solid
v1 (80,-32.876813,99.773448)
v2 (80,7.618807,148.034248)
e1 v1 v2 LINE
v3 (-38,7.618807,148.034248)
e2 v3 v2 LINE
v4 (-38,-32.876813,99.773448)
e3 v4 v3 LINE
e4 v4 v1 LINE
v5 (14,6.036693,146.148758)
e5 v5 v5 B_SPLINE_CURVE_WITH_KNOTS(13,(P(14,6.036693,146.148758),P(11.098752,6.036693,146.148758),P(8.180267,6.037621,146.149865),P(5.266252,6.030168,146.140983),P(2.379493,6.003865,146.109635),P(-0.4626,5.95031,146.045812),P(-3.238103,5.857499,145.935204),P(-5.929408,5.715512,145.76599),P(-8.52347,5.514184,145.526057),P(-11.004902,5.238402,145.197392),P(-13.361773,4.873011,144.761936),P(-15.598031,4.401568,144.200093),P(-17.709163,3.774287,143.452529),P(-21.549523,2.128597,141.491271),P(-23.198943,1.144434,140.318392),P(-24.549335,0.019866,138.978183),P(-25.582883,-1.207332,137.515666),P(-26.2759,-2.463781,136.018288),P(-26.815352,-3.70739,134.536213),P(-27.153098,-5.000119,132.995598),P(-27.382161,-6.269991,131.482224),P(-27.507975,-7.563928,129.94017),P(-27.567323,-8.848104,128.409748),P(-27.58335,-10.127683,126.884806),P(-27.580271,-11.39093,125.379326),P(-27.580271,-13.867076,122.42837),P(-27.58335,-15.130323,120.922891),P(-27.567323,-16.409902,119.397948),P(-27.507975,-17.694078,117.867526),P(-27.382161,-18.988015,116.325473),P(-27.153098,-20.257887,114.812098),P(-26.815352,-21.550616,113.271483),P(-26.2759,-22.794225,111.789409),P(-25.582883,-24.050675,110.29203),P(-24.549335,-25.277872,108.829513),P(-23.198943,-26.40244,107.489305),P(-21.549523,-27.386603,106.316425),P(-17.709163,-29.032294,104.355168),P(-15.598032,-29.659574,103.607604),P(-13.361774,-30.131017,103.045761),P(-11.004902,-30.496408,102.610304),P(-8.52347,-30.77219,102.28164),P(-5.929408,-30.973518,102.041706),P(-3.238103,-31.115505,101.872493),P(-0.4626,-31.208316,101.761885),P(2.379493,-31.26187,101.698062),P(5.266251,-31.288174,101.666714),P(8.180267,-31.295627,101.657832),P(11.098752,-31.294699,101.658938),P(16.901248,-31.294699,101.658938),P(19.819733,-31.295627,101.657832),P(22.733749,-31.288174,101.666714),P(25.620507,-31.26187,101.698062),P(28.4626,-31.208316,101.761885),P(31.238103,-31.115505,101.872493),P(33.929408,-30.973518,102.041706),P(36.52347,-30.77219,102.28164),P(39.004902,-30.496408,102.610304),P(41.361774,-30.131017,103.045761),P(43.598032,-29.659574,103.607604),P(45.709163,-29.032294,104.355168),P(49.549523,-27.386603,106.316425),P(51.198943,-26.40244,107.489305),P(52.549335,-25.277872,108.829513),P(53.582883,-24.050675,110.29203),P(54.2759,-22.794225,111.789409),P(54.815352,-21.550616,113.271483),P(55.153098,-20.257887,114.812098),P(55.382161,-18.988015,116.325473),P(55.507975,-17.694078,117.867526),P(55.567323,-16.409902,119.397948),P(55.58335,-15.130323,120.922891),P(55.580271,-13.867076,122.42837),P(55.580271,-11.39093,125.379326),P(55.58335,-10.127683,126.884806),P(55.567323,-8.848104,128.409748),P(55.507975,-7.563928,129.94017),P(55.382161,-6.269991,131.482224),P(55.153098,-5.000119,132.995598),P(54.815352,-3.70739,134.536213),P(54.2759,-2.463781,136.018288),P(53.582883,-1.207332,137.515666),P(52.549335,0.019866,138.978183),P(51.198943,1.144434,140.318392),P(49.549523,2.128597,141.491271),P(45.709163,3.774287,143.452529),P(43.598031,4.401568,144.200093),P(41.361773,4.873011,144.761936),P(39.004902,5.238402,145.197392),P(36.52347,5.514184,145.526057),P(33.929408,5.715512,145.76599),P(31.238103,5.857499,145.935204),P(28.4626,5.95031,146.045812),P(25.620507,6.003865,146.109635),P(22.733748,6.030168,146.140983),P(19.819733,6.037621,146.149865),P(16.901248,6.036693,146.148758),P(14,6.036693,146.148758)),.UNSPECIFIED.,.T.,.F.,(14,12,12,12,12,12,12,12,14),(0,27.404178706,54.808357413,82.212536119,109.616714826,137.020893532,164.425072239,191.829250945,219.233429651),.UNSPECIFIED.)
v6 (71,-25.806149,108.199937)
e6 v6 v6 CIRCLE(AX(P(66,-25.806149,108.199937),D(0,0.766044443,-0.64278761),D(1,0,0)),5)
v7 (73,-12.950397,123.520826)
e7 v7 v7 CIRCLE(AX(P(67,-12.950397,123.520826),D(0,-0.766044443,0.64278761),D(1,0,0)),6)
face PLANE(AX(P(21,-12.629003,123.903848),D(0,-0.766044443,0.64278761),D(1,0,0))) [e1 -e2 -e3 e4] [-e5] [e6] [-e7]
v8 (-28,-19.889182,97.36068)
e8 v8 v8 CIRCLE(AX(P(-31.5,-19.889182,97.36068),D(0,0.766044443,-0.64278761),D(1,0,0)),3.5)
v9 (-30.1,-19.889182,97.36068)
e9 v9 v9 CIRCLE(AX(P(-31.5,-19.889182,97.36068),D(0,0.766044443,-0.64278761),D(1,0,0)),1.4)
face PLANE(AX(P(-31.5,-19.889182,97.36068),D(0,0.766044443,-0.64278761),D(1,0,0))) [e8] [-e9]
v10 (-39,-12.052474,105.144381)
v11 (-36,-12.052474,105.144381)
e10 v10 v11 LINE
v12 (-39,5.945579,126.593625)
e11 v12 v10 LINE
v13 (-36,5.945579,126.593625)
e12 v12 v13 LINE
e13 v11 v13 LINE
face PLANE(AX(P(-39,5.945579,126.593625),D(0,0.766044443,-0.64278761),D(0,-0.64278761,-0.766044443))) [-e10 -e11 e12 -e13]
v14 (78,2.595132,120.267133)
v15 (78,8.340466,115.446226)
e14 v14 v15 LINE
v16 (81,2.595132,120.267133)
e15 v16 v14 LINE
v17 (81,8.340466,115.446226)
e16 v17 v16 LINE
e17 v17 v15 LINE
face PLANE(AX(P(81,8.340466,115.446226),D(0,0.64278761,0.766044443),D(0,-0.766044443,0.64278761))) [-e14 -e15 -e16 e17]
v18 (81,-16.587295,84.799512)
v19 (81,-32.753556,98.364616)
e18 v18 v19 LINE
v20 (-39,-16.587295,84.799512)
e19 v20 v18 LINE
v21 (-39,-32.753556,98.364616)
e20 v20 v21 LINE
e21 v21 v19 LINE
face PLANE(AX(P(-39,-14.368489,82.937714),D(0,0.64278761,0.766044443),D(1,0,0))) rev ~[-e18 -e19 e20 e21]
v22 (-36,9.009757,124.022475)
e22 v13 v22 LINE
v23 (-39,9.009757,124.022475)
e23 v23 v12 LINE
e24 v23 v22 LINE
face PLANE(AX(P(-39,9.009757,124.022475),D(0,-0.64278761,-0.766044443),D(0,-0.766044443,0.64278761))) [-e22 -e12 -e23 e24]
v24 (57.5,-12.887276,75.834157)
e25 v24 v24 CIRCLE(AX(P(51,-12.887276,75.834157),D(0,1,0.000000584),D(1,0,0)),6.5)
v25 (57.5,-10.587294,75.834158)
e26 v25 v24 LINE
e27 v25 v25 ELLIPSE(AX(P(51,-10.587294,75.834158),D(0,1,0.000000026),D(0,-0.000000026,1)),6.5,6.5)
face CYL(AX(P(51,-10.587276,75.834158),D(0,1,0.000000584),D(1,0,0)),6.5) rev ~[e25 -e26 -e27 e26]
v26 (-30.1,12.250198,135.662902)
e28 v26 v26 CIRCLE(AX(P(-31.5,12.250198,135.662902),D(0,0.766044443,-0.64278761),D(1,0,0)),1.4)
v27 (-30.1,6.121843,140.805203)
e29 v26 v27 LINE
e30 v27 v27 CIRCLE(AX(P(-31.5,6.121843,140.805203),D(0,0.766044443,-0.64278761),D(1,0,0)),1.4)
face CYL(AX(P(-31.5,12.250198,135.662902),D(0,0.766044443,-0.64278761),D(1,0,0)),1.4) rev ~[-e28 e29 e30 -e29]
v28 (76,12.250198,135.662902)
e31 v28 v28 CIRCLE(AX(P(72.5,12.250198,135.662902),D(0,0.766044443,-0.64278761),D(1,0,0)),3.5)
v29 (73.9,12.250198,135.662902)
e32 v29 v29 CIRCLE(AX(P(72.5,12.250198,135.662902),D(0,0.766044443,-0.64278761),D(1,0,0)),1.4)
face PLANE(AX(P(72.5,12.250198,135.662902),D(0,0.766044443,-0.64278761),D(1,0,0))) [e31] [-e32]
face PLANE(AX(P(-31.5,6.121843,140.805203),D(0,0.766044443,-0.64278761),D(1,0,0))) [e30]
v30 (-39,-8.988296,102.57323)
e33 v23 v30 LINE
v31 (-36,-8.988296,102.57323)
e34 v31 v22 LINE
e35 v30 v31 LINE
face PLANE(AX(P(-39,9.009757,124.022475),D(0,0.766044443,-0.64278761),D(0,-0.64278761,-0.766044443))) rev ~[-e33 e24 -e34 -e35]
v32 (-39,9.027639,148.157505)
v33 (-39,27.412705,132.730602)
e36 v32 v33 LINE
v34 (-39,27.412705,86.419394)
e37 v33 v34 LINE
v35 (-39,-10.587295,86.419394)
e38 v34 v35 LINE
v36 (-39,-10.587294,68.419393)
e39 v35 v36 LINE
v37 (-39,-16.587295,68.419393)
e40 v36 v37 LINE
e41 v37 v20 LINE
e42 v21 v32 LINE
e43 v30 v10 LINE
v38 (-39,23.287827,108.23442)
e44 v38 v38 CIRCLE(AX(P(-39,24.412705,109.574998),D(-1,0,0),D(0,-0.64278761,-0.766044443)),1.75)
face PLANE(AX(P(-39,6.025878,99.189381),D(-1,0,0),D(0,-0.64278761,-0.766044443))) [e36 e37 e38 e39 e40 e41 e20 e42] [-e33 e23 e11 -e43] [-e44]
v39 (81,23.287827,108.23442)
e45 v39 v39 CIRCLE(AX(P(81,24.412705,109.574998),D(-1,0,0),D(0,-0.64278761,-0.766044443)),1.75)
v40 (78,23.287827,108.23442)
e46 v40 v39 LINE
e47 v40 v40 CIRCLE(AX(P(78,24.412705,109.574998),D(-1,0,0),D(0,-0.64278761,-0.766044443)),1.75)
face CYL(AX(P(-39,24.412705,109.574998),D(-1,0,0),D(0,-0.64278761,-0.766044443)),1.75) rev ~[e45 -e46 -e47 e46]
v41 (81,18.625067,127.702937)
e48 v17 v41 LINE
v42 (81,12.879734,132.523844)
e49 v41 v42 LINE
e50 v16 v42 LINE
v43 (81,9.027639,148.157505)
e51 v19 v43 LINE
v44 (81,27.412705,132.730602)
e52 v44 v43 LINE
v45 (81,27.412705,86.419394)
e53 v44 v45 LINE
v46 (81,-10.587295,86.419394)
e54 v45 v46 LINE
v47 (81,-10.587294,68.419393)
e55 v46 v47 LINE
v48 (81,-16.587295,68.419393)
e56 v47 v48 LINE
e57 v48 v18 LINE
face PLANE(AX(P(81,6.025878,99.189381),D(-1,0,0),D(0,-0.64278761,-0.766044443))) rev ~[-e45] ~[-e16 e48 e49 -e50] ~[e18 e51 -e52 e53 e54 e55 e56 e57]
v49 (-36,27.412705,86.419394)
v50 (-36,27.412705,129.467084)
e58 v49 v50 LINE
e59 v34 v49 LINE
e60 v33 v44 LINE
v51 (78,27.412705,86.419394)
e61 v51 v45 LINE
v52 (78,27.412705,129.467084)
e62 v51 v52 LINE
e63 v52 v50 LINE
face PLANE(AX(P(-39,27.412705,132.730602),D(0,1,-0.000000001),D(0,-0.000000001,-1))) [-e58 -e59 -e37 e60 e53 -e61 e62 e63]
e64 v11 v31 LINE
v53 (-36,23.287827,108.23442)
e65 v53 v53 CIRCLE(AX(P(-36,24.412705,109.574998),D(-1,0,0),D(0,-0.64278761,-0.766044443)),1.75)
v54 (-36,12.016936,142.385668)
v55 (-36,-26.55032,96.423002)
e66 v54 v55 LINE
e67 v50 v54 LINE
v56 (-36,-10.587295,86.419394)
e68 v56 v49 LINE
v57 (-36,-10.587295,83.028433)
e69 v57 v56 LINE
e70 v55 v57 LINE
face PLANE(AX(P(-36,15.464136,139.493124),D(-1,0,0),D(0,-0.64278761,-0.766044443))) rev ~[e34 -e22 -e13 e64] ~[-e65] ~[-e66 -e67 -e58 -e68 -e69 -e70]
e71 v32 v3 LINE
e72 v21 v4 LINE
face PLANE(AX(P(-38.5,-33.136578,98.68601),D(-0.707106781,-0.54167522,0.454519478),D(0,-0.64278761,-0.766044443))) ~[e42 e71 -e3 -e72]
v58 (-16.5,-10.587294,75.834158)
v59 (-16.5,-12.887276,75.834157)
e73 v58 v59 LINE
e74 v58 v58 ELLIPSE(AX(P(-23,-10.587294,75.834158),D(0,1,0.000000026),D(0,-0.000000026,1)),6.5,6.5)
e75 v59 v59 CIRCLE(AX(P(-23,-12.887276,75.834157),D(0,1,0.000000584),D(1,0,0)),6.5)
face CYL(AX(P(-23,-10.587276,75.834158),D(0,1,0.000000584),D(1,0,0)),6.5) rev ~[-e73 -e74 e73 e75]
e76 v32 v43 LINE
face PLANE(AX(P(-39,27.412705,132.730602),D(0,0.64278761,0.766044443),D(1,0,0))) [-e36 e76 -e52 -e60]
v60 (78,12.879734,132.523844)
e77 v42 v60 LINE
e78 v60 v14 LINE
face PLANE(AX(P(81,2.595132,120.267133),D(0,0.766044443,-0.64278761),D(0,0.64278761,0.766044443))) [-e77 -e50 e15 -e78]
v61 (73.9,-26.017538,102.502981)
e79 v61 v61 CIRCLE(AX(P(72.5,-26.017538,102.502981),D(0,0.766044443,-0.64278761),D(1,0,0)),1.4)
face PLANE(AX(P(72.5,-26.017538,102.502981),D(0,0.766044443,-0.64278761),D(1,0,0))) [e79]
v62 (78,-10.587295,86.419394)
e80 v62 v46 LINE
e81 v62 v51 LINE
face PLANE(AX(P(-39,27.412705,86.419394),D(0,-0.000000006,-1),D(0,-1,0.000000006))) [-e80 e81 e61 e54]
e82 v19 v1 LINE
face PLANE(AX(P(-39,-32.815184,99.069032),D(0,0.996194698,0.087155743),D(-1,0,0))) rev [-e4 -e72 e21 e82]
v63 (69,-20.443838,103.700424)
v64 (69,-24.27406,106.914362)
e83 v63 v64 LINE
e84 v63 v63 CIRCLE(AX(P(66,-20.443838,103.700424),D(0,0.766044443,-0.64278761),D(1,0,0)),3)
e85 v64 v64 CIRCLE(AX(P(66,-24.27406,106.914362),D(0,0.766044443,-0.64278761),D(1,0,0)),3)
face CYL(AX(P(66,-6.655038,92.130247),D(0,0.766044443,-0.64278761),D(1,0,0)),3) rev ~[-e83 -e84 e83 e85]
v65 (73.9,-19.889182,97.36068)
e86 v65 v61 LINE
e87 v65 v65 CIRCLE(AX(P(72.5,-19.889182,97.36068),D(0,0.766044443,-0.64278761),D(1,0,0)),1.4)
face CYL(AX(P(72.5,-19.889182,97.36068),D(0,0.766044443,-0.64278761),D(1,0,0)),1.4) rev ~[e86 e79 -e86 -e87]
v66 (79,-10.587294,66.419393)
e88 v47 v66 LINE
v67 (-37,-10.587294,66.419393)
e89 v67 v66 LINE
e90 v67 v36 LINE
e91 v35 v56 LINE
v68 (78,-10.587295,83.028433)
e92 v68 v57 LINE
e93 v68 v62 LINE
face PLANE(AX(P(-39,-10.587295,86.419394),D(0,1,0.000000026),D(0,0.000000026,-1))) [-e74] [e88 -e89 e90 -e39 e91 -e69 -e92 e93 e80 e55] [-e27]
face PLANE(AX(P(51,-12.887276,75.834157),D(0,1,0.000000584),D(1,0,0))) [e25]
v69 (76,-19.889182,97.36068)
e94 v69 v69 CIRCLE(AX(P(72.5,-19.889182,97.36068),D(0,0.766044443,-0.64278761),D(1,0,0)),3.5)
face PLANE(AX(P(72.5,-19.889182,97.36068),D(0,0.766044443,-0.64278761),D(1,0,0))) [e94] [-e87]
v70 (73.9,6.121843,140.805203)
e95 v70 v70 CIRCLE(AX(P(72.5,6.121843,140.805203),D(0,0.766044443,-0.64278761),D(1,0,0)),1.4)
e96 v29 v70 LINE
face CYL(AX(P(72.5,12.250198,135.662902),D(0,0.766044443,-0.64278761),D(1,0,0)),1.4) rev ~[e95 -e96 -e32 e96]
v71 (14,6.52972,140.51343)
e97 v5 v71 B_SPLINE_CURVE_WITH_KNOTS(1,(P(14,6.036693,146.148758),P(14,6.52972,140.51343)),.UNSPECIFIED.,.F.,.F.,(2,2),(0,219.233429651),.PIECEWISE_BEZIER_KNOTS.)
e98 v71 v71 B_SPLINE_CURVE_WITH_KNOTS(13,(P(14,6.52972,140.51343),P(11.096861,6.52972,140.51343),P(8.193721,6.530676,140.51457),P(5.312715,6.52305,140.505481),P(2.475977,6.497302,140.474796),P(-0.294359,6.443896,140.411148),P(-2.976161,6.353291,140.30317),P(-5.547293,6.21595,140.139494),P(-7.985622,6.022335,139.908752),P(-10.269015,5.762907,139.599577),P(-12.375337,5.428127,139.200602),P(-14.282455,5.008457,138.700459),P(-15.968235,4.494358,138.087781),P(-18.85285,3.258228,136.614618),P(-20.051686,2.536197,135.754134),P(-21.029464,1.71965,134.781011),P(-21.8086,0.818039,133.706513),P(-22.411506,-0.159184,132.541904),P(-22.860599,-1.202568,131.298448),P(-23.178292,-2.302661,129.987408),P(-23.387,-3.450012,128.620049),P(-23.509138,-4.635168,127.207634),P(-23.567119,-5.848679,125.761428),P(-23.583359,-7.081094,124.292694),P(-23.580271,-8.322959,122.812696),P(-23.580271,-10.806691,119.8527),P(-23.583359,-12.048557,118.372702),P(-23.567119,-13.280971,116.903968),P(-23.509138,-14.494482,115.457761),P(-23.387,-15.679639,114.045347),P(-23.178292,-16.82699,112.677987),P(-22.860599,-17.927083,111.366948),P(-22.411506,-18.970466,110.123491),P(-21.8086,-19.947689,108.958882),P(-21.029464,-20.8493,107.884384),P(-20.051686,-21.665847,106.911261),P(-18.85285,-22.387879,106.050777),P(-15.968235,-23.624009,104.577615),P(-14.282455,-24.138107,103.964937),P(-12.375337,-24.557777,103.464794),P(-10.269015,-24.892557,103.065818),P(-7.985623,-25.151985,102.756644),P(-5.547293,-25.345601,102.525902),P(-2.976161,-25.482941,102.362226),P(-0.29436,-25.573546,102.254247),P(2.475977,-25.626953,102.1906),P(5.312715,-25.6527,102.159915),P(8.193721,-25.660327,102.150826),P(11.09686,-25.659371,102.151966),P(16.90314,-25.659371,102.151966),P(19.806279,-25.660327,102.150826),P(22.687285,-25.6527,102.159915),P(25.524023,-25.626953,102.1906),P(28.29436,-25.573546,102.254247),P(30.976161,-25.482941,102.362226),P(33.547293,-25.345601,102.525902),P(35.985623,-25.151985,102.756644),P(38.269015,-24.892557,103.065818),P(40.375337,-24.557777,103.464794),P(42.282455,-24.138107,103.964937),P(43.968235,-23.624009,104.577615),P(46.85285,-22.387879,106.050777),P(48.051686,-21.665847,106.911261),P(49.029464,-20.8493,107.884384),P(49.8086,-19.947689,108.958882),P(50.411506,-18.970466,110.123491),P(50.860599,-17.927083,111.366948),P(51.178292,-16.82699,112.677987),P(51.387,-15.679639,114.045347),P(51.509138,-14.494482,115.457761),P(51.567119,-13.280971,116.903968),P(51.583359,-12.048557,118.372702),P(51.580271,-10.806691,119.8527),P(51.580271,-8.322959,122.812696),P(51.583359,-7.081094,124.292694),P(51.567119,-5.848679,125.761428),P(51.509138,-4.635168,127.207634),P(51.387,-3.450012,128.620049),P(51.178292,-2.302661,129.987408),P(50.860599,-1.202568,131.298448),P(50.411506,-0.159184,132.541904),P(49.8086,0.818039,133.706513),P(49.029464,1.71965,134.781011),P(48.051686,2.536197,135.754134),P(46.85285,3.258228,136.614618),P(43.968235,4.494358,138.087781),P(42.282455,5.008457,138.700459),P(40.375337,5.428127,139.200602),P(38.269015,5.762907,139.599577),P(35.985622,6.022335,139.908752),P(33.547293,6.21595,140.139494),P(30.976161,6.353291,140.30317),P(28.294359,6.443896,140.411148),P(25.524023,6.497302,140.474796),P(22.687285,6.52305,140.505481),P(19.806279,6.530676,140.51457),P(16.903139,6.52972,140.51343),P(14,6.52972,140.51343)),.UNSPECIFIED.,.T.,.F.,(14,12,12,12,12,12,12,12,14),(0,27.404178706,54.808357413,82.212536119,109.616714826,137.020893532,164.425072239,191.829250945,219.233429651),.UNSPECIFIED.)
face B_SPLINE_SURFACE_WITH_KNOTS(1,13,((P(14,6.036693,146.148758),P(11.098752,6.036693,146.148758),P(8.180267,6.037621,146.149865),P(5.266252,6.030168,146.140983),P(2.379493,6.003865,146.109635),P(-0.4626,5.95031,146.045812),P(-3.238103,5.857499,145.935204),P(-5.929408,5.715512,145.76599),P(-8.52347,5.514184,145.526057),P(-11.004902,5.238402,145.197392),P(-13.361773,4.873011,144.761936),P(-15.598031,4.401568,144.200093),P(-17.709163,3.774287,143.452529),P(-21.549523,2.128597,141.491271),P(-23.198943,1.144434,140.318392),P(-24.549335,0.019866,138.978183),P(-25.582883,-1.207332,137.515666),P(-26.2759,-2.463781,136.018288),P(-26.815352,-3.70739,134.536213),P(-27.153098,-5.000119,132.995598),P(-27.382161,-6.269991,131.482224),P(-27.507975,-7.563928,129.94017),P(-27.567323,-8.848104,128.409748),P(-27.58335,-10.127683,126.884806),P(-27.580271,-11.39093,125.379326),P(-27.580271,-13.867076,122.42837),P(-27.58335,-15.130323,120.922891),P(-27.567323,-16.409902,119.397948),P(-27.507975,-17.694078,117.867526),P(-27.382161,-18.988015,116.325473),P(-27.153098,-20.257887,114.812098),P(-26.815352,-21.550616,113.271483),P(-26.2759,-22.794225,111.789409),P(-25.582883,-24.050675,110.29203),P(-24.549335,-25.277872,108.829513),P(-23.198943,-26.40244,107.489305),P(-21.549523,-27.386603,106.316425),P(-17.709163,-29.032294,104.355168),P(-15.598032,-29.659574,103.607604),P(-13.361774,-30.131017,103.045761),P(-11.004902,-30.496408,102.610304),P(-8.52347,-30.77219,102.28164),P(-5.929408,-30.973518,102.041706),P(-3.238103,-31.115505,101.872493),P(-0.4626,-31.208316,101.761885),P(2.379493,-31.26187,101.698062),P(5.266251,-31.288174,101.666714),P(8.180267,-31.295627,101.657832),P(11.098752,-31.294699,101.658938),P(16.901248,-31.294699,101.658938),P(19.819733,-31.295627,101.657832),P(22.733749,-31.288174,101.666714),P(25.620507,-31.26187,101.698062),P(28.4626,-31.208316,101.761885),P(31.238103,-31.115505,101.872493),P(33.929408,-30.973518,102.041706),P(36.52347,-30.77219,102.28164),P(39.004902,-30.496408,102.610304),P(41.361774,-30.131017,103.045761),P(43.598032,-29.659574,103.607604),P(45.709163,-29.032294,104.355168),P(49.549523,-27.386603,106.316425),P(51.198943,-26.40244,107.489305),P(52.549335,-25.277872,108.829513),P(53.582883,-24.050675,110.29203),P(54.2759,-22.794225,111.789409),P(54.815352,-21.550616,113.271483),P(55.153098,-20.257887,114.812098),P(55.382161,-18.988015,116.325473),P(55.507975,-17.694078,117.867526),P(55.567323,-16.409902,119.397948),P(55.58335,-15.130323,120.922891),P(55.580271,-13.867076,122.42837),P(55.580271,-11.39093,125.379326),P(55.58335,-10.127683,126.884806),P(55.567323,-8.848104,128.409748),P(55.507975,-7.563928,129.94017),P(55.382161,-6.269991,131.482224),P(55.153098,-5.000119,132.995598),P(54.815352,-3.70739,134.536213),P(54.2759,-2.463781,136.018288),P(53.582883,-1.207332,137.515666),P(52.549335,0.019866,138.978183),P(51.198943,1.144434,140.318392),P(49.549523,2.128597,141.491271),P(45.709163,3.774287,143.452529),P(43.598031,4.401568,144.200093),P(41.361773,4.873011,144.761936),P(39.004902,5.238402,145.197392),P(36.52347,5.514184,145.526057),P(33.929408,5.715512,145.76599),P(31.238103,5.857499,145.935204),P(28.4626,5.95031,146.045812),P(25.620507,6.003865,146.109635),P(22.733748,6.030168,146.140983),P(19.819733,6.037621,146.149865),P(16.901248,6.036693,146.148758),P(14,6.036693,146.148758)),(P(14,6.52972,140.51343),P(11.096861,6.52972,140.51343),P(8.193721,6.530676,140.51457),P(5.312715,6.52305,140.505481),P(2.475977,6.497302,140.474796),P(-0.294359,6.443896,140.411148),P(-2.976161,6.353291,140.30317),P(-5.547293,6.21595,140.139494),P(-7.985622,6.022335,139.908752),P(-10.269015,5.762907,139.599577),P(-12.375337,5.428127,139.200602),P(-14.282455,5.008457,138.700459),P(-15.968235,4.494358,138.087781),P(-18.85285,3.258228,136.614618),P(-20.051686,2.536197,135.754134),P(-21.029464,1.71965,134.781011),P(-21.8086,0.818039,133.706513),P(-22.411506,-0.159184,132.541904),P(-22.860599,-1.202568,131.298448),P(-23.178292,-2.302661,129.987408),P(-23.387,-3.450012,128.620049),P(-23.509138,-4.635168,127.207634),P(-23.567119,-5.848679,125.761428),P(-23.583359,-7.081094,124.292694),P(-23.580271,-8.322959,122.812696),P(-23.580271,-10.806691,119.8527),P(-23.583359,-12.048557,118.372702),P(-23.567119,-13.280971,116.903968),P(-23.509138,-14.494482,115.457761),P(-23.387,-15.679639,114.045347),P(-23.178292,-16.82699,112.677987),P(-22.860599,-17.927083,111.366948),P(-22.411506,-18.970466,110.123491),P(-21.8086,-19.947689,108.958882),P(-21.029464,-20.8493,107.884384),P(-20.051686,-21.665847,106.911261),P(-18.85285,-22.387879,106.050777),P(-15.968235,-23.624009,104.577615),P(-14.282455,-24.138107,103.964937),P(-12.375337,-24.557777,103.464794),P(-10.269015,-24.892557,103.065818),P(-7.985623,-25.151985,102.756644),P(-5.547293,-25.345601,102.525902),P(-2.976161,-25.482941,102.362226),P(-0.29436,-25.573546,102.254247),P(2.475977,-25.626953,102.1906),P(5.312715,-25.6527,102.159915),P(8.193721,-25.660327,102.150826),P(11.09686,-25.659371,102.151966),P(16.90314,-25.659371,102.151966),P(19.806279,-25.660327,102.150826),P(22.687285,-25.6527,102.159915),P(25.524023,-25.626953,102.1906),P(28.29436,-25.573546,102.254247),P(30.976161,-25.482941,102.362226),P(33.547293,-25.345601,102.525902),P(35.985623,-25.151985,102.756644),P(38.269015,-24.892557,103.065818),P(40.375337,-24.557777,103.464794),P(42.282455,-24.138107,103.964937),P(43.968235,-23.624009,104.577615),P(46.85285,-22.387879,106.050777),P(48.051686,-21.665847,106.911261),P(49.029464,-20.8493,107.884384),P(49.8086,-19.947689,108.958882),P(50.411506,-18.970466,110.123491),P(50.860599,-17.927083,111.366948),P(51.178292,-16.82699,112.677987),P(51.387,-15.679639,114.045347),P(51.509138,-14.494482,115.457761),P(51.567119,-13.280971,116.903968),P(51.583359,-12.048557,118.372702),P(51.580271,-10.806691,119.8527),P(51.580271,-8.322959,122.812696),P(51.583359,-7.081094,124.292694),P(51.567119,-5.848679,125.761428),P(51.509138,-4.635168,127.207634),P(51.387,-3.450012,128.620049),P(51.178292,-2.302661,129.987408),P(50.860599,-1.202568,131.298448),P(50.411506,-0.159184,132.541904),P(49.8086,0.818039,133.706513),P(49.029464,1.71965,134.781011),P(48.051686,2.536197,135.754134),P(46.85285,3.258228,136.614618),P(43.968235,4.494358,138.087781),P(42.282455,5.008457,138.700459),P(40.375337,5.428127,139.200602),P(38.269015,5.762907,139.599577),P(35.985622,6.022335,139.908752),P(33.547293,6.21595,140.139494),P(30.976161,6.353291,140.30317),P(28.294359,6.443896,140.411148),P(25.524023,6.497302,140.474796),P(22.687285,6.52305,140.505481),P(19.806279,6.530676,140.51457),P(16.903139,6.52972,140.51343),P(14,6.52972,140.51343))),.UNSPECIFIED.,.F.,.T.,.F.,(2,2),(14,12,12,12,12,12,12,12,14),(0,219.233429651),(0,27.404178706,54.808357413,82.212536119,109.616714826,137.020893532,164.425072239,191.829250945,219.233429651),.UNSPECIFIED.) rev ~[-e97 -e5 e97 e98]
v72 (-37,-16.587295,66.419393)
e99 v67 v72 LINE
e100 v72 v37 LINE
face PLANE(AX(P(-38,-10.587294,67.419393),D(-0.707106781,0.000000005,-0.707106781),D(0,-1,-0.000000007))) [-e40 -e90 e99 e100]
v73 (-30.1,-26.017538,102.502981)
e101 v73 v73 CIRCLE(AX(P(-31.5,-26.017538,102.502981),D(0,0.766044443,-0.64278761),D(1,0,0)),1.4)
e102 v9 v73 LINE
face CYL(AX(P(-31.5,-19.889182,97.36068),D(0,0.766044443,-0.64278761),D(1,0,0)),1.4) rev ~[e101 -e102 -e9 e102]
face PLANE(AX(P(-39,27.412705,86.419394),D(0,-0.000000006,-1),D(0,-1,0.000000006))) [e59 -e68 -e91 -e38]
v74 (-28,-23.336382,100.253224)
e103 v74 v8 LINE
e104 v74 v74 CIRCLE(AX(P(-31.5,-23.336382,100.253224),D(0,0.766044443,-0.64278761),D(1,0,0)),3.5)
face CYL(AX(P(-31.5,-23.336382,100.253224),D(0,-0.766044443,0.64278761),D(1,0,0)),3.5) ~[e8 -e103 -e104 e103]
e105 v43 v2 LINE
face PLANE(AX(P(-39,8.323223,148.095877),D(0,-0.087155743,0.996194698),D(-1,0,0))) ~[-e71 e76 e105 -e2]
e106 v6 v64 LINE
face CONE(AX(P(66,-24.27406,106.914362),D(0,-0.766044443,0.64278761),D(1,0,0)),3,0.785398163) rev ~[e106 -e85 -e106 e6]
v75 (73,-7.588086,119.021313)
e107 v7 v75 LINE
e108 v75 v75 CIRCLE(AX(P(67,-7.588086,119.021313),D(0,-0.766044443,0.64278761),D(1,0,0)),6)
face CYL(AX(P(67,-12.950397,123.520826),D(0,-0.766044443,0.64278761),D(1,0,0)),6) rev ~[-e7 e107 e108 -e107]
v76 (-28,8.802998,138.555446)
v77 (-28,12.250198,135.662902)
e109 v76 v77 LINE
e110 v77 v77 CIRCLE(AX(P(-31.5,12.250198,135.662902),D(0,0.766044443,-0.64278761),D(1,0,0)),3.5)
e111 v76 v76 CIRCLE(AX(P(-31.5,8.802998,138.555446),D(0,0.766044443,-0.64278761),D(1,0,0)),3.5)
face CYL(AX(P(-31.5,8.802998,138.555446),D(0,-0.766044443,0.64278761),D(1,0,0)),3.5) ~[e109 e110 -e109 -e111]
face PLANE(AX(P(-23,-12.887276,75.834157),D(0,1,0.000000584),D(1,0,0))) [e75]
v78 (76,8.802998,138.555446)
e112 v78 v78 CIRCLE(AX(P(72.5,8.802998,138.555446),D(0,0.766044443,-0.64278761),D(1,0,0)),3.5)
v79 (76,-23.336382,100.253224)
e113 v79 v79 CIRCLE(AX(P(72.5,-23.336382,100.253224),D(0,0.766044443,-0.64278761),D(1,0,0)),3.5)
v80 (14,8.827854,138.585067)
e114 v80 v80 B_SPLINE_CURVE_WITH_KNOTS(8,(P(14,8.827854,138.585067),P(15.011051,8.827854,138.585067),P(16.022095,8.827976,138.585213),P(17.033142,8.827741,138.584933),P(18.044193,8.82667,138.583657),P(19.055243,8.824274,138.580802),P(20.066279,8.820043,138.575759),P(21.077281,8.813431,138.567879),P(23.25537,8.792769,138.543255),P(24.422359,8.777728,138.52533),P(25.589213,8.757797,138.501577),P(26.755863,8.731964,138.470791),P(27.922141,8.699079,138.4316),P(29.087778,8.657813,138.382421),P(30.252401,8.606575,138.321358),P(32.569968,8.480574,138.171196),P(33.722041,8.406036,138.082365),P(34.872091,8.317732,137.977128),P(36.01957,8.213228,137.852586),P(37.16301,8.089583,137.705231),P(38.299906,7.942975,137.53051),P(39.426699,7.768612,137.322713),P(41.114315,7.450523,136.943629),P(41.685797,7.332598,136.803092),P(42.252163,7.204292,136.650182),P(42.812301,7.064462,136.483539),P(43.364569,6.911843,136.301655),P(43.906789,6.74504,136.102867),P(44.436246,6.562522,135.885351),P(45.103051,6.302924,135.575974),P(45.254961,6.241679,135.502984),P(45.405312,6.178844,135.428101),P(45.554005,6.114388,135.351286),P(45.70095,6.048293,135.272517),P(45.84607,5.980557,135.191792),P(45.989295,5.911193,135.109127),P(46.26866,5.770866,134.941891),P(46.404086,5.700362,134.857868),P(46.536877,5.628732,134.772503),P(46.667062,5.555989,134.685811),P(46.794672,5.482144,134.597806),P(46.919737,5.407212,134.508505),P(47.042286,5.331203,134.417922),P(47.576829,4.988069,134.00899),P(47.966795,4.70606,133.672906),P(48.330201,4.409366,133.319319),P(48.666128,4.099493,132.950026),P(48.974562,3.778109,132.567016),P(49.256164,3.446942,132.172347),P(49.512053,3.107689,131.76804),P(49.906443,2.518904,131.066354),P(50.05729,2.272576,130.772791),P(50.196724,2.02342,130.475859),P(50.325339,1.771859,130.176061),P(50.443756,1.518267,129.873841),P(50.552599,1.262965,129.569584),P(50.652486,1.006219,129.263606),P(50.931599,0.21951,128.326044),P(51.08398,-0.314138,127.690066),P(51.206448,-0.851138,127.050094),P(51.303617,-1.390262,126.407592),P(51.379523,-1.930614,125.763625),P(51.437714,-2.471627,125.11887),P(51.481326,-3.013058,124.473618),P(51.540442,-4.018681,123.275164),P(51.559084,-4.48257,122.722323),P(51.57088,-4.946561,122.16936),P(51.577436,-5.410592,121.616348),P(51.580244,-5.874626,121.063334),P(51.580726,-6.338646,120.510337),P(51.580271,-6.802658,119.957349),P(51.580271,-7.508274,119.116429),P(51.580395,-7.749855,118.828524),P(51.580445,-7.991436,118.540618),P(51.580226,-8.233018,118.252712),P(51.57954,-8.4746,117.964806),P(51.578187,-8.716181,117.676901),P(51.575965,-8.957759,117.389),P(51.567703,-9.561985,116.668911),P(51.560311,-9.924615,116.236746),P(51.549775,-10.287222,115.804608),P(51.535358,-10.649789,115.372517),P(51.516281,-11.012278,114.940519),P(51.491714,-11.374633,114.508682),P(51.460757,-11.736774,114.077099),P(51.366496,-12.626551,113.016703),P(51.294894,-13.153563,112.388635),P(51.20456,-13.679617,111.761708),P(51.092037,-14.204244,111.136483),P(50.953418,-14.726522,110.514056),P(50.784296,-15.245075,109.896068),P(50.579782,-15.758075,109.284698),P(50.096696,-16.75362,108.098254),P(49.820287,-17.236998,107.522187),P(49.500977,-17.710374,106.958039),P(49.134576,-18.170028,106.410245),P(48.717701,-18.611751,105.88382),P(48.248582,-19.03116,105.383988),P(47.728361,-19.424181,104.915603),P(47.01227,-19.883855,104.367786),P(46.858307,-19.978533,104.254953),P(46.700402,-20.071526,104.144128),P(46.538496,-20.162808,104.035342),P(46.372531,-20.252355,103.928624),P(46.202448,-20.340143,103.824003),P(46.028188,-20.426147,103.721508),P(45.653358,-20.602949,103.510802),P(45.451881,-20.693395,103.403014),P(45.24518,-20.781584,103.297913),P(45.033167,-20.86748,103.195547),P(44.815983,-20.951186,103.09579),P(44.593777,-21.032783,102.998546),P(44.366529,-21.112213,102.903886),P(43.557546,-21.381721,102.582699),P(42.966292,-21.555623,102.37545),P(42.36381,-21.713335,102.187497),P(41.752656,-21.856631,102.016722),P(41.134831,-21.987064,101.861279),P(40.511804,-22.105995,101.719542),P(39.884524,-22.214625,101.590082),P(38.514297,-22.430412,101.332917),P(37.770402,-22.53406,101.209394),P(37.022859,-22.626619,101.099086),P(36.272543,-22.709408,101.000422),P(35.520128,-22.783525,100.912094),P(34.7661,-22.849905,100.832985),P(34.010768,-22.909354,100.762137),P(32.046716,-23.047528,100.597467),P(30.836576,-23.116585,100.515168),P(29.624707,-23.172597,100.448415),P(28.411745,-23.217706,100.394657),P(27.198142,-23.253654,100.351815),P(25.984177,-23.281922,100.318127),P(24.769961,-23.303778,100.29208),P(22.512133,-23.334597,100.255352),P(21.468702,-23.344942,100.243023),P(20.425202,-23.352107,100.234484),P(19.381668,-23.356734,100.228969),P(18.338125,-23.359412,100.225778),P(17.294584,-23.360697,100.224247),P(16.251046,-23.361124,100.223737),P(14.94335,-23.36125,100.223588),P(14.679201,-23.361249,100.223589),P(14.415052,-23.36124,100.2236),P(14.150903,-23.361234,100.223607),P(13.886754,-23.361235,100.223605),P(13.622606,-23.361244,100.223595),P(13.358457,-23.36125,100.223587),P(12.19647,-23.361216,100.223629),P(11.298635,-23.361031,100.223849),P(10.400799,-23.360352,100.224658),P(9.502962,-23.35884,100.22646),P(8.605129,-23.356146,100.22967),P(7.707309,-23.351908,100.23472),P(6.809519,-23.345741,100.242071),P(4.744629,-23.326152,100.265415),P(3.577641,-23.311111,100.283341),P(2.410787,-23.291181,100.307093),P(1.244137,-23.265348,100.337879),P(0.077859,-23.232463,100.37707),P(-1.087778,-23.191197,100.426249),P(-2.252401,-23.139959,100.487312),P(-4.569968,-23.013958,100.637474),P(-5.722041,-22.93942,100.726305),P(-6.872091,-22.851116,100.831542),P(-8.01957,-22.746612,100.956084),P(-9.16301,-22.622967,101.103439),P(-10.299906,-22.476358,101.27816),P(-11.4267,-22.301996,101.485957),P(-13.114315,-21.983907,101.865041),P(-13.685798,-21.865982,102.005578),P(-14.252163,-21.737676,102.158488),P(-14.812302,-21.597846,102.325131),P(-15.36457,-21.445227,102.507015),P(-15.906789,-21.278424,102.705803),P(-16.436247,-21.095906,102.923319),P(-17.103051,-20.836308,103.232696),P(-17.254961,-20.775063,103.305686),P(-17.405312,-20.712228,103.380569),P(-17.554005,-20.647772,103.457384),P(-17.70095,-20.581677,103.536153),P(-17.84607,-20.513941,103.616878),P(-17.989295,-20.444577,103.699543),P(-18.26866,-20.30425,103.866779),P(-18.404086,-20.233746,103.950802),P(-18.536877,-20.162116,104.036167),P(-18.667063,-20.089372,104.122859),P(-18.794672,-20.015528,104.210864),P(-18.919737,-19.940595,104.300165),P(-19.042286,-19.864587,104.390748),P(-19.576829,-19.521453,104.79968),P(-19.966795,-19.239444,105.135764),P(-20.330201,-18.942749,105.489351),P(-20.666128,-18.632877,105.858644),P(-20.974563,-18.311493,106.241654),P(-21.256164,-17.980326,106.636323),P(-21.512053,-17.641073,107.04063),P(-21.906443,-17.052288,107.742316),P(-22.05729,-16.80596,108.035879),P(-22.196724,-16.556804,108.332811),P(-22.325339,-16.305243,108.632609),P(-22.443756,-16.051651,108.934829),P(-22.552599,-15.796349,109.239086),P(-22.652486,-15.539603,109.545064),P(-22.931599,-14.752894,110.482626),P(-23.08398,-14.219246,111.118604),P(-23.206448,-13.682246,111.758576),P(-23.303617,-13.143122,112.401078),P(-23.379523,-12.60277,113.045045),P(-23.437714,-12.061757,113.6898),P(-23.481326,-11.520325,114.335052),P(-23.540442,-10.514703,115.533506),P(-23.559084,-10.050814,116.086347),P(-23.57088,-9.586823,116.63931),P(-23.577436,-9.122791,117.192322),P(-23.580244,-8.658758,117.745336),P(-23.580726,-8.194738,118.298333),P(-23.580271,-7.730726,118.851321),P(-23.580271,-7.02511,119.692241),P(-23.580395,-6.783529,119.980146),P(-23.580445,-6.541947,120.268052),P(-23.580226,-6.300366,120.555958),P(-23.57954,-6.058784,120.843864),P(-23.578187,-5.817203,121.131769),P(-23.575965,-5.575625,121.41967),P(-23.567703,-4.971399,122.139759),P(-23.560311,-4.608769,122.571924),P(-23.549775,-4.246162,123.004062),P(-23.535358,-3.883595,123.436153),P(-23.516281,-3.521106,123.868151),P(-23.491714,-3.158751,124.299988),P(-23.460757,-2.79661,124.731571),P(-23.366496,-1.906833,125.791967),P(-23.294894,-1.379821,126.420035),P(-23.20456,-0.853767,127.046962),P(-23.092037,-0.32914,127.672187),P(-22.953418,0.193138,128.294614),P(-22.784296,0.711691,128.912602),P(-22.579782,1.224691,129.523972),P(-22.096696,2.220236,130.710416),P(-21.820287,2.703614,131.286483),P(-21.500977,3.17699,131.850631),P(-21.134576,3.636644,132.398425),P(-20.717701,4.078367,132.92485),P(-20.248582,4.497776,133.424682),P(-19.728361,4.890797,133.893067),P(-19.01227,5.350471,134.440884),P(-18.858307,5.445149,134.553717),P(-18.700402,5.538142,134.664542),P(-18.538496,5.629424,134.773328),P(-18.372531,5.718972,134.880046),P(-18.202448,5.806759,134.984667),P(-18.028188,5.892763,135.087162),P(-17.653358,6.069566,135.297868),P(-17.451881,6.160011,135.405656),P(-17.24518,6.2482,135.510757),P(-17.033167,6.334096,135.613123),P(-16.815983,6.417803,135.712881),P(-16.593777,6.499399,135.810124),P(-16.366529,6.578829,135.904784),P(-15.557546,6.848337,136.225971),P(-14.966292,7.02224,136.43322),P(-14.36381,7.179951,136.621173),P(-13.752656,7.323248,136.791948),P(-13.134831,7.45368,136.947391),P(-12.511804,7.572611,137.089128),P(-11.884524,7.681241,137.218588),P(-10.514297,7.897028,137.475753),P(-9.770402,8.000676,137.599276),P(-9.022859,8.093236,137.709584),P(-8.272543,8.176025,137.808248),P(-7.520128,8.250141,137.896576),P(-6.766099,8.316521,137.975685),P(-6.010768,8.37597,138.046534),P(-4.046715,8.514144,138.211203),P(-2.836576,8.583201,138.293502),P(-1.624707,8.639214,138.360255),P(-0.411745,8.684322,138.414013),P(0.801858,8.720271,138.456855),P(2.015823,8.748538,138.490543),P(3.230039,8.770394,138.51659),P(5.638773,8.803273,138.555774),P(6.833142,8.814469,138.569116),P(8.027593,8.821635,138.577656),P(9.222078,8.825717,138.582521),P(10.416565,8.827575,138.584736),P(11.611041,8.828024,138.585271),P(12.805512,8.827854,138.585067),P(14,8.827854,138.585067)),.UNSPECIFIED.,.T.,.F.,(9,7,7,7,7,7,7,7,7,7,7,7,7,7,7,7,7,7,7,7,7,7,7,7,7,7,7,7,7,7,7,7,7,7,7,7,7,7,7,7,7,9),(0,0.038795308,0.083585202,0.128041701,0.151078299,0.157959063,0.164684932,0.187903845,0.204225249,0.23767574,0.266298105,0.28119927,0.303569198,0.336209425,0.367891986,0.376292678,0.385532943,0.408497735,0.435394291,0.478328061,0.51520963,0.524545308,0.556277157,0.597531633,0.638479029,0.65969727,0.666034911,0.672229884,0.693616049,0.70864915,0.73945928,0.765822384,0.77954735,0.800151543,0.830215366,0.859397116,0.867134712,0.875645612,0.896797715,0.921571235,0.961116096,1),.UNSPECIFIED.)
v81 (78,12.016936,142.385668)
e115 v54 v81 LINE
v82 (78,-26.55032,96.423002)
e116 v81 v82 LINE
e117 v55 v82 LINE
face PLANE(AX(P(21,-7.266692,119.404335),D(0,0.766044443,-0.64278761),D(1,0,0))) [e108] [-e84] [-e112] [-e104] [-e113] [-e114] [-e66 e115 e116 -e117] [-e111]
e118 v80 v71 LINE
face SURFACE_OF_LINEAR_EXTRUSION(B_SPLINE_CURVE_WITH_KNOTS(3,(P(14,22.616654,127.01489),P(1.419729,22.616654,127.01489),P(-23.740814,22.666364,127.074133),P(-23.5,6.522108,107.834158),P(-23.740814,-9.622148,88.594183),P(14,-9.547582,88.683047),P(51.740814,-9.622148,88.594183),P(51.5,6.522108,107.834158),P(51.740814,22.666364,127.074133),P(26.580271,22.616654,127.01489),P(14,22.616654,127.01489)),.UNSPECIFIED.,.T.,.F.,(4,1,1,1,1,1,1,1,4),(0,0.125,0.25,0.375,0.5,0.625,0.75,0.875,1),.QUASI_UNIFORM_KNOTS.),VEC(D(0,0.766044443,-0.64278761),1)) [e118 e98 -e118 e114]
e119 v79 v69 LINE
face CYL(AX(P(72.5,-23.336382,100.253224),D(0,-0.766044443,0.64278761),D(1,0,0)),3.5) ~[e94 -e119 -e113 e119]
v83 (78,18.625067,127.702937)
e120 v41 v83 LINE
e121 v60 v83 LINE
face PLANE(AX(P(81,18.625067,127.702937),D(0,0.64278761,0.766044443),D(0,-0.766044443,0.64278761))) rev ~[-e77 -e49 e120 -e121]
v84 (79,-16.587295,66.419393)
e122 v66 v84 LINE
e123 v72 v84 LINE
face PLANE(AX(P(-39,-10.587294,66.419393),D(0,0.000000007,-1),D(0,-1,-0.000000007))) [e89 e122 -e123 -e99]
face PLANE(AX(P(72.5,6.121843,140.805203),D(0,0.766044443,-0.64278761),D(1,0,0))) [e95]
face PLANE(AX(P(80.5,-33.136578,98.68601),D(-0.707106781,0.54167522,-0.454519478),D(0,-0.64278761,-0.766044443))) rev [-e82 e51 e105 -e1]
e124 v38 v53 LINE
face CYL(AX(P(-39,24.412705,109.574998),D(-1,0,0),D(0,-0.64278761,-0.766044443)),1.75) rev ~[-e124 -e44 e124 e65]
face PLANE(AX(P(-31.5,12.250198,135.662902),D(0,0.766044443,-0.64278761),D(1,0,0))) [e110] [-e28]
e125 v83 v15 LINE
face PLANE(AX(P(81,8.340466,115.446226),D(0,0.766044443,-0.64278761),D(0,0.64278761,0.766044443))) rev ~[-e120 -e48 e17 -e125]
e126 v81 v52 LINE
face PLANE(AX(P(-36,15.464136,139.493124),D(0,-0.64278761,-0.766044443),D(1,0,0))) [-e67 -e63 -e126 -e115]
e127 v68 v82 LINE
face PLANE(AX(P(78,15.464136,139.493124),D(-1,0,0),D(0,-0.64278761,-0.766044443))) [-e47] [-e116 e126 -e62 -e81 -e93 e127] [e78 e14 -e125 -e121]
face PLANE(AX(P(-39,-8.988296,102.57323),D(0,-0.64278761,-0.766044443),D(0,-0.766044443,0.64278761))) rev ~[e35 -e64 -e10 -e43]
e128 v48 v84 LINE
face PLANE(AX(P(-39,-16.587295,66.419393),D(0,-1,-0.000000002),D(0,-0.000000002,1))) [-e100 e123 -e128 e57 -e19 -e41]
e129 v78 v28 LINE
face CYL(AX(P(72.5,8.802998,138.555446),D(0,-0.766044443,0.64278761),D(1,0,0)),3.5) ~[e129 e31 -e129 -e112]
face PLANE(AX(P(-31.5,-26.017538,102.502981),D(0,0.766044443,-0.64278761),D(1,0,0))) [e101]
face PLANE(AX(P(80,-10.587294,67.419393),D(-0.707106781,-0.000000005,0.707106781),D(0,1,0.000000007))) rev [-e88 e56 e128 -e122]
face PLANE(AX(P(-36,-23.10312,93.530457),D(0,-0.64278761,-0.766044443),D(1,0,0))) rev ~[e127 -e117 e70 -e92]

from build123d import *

# Parameters (mm, degrees)
SKETCH029_W             = 120
SKETCH029_H             = 65
PAD005_DEPTH            = 25
SKETCH028_R             = 3
POCKET016_DEPTH         = 25.001
SKETCH001_R             = 6
POCKET017_DEPTH         = 25.001
SKETCH030_W             = 114
SKETCH030_H             = 60
POCKET018_DEPTH         = 18
CHAMFER001_SIZE         = 4
SKETCH031_R             = 3.5
PAD006_DEPTH            = 4.5
SKETCH032_R             = 1.4
POCKET019_DEPTH         = 8
SKETCH033_W             = 16
SKETCH033_H             = 6.5
POCKET020_DEPTH         = 9
SKETCH034_W             = 28
SKETCH034_H             = 4
POCKET021_DEPTH         = 5
PAD007_DEPTH            = 120
SKETCH027_W             = 114
SKETCH027_H             = 60
POCKET022_DEPTH         = 47
SKETCH016_W             = 16
SKETCH016_H             = 7.5
POCKET023_DEPTH         = 9
CHAMFER002_SIZE         = 2
SKETCH022_R             = 1.75
POCKET024_DEPTH         = 120.001
CHAMFER005_SIZE         = 2
CHAMFER006_SIZE         = 2
SKETCH023_R             = 6.5
POCKET025_DEPTH         = 2.3
CHAMFER007_SIZE         = 1
BODY002_PLACEMENT_ANGLE = 50


with BuildPart() as part:
    # Sketch029 → Pad005 (new body)
    with BuildSketch(Plane.XY):
        with Locations((7, 0)):
            Rectangle(SKETCH029_W, SKETCH029_H)
        with BuildLine():
            add(Edge.make_bspline(
                [(0, 25.038668), (-12.580271, 25.038668), (-37.740814, 25.116003), (-37.5, 0), (-37.740814, -25.116003), (0, -25), (37.740814, -25.116003), (37.5, 0), (37.740814, 25.116003), (12.580271, 25.038668), (0, 25.038668)],
                knots=[0, 0, 0, 0, 0.125, 0.25, 0.375, 0.5, 0.625, 0.75, 0.875, 1, 1, 1, 1], degree=3))
        make_face(mode=Mode.SUBTRACT)
    extrude(amount=PAD005_DEPTH)

    # Sketch028 → Pocket016 (cut, through all)
    with BuildSketch(Plane(origin=(0, 0, 0), x_dir=(1, 0, 0), z_dir=(0, 0, -1))):
        with Locations((52, 20.5)):
            Circle(SKETCH028_R)
    extrude(amount=-POCKET016_DEPTH, mode=Mode.SUBTRACT)

    # Sketch001 (on Face5 of Pocket016) → Pocket017 (cut, through all)
    with BuildSketch(Plane.XY.offset(25)):
        with Locations((53, -0.5)):
            Circle(SKETCH001_R)
    extrude(amount=-POCKET017_DEPTH, mode=Mode.SUBTRACT)

    # Sketch030 (on Face4 of Pocket017) → Pocket018 (cut)
    with BuildSketch(Plane(origin=(0, 0, 0), x_dir=(1, 0, 0), z_dir=(0, 0, -1))):
        with Locations((7, 0)):
            Rectangle(SKETCH030_W, SKETCH030_H)
    extrude(amount=-POCKET018_DEPTH, mode=Mode.SUBTRACT)

    # Chamfer001
    chamfer001_edges = [part.edges().sort_by_distance(p)[0] for p in [
        (0, -25.038668, 25),
    ]]
    chamfer(chamfer001_edges, length=CHAMFER001_SIZE)

    # Sketch031 (on Face11 of Chamfer001) → Pad006 (join)
    with BuildSketch(Plane(origin=(0, 0, 18), x_dir=(1, 0, 0), z_dir=(0, 0, -1))):
        with Locations((-45.5, 25)):
            Circle(SKETCH031_R)
        with Locations((-45.5, -25)):
            Circle(SKETCH031_R)
        with Locations((58.5, -25)):
            Circle(SKETCH031_R)
        with Locations((58.5, 25)):
            Circle(SKETCH031_R)
    extrude(amount=PAD006_DEPTH)

    # Sketch032 (on Face22 of Pad006) → Pocket019 (cut)
    with BuildSketch(Plane(origin=(0, 0, 13.5), x_dir=(1, 0, 0), z_dir=(0, 0, -1))):
        with Locations((-45.5, 25)):
            Circle(SKETCH032_R)
        with Locations((58.5, 25)):
            Circle(SKETCH032_R)
        with Locations((58.5, -25)):
            Circle(SKETCH032_R)
        with Locations((-45.5, -25)):
            Circle(SKETCH032_R)
    extrude(amount=-POCKET019_DEPTH, mode=Mode.SUBTRACT)

    # Sketch033 (on Face5 of Pocket019) → Pocket020 (cut)
    with BuildSketch(Plane.YZ.offset(67)):
        with Locations((15, 3.25)):
            Rectangle(SKETCH033_W, SKETCH033_H)
    extrude(amount=-POCKET020_DEPTH, mode=Mode.SUBTRACT)

    # Sketch034 (on Face4 of Pocket020) → Pocket021 (cut)
    with BuildSketch(Plane(origin=(-53, 0, 0), x_dir=(0, -1, 0), z_dir=(-1, 0, 0))):
        with Locations((0, 10.5)):
            Rectangle(SKETCH034_W, SKETCH034_H)
    extrude(amount=-POCKET021_DEPTH, mode=Mode.SUBTRACT)

    # Sketch010 (on Face4 of Pocket021) → Pad007 (join)
    with BuildSketch(Plane(origin=(-53, 0, 0), x_dir=(0, -1, 0), z_dir=(-1, 0, 0))):
        Polygon((2.976444, -29.768271), (27.402373, -0.658582), (42.723262, -13.514335), (46.579988, -8.918068), (27.480858, 7.108005), (-32.5, 7.108005), (-32.5, 0), align=None)
    extrude(amount=-PAD007_DEPTH)

    # Sketch027 → Pocket022 (cut)
    with BuildSketch(Plane(origin=(0, 0, 13.5), x_dir=(1, 0, 0), z_dir=(0, 0, -1))):
        with Locations((7, 0)):
            Rectangle(SKETCH027_W, SKETCH027_H)
    extrude(amount=POCKET022_DEPTH, mode=Mode.SUBTRACT)

    # Sketch016 (on Face5 of Pocket022) → Pocket023 (cut)
    with BuildSketch(Plane.YZ.offset(67)):
        with Locations((15, 7.25)):
            Rectangle(SKETCH016_W, SKETCH016_H)
    extrude(amount=-POCKET023_DEPTH, mode=Mode.SUBTRACT)

    # Chamfer002
    chamfer002_edges = [part.edges().sort_by_distance(p)[0] for p in [
        (49, -20.5, 25),
    ]]
    chamfer(chamfer002_edges, length=CHAMFER002_SIZE)

    # Sketch022 (on Face25 of Chamfer002) → Pocket024 (cut, through all)
    with BuildSketch(Plane(origin=(-53, 0, 0), x_dir=(0, -1, 0), z_dir=(-1, 0, 0))):
        with Locations((-12.833415, -12.586002)):
            Circle(SKETCH022_R)
    extrude(amount=-POCKET024_DEPTH, mode=Mode.SUBTRACT)

    # Chamfer005
    chamfer005_edges = [part.edges().sort_by_distance(p)[0] for p in [
        (67, -44.651625, -11.216201),
    ]]
    chamfer(chamfer005_edges, length=CHAMFER005_SIZE)

    # Chamfer006
    chamfer006_edges = [part.edges().sort_by_distance(p)[0] for p in [
        (-53, -44.651625, -11.216201),
    ]]
    chamfer(chamfer006_edges, length=CHAMFER006_SIZE)

    # Sketch023 (on Face8 of Chamfer006) → Pocket025 (cut)
    with BuildSketch(Plane(origin=(0, -10.997712, 13.106563), x_dir=(1, 0, 0), z_dir=(0, 0.642788, -0.766044))):
        with Locations((-37, 32)):
            Circle(SKETCH023_R)
        with Locations((37, 32)):
            Circle(SKETCH023_R)
    extrude(amount=-POCKET025_DEPTH, mode=Mode.SUBTRACT)

    # Chamfer007
    chamfer007_edges = [part.edges().sort_by_distance(p)[0] for p in [
        (7, 32.5, 25),
        (67, 0, 25),
        (7, -32.5, 25),
        (-53, 0, 25),
    ]]
    chamfer(chamfer007_edges, length=CHAMFER007_SIZE)


with BuildPart() as part_1:
    # Body002 placement: moved
    add(part.part.moved(Location((14, 6.522108, 107.834158))).rotate(Axis((14, 6.522108, 107.834158), (1, 0, 0)), BODY002_PLACEMENT_ANGLE))


solid = part_1.part
